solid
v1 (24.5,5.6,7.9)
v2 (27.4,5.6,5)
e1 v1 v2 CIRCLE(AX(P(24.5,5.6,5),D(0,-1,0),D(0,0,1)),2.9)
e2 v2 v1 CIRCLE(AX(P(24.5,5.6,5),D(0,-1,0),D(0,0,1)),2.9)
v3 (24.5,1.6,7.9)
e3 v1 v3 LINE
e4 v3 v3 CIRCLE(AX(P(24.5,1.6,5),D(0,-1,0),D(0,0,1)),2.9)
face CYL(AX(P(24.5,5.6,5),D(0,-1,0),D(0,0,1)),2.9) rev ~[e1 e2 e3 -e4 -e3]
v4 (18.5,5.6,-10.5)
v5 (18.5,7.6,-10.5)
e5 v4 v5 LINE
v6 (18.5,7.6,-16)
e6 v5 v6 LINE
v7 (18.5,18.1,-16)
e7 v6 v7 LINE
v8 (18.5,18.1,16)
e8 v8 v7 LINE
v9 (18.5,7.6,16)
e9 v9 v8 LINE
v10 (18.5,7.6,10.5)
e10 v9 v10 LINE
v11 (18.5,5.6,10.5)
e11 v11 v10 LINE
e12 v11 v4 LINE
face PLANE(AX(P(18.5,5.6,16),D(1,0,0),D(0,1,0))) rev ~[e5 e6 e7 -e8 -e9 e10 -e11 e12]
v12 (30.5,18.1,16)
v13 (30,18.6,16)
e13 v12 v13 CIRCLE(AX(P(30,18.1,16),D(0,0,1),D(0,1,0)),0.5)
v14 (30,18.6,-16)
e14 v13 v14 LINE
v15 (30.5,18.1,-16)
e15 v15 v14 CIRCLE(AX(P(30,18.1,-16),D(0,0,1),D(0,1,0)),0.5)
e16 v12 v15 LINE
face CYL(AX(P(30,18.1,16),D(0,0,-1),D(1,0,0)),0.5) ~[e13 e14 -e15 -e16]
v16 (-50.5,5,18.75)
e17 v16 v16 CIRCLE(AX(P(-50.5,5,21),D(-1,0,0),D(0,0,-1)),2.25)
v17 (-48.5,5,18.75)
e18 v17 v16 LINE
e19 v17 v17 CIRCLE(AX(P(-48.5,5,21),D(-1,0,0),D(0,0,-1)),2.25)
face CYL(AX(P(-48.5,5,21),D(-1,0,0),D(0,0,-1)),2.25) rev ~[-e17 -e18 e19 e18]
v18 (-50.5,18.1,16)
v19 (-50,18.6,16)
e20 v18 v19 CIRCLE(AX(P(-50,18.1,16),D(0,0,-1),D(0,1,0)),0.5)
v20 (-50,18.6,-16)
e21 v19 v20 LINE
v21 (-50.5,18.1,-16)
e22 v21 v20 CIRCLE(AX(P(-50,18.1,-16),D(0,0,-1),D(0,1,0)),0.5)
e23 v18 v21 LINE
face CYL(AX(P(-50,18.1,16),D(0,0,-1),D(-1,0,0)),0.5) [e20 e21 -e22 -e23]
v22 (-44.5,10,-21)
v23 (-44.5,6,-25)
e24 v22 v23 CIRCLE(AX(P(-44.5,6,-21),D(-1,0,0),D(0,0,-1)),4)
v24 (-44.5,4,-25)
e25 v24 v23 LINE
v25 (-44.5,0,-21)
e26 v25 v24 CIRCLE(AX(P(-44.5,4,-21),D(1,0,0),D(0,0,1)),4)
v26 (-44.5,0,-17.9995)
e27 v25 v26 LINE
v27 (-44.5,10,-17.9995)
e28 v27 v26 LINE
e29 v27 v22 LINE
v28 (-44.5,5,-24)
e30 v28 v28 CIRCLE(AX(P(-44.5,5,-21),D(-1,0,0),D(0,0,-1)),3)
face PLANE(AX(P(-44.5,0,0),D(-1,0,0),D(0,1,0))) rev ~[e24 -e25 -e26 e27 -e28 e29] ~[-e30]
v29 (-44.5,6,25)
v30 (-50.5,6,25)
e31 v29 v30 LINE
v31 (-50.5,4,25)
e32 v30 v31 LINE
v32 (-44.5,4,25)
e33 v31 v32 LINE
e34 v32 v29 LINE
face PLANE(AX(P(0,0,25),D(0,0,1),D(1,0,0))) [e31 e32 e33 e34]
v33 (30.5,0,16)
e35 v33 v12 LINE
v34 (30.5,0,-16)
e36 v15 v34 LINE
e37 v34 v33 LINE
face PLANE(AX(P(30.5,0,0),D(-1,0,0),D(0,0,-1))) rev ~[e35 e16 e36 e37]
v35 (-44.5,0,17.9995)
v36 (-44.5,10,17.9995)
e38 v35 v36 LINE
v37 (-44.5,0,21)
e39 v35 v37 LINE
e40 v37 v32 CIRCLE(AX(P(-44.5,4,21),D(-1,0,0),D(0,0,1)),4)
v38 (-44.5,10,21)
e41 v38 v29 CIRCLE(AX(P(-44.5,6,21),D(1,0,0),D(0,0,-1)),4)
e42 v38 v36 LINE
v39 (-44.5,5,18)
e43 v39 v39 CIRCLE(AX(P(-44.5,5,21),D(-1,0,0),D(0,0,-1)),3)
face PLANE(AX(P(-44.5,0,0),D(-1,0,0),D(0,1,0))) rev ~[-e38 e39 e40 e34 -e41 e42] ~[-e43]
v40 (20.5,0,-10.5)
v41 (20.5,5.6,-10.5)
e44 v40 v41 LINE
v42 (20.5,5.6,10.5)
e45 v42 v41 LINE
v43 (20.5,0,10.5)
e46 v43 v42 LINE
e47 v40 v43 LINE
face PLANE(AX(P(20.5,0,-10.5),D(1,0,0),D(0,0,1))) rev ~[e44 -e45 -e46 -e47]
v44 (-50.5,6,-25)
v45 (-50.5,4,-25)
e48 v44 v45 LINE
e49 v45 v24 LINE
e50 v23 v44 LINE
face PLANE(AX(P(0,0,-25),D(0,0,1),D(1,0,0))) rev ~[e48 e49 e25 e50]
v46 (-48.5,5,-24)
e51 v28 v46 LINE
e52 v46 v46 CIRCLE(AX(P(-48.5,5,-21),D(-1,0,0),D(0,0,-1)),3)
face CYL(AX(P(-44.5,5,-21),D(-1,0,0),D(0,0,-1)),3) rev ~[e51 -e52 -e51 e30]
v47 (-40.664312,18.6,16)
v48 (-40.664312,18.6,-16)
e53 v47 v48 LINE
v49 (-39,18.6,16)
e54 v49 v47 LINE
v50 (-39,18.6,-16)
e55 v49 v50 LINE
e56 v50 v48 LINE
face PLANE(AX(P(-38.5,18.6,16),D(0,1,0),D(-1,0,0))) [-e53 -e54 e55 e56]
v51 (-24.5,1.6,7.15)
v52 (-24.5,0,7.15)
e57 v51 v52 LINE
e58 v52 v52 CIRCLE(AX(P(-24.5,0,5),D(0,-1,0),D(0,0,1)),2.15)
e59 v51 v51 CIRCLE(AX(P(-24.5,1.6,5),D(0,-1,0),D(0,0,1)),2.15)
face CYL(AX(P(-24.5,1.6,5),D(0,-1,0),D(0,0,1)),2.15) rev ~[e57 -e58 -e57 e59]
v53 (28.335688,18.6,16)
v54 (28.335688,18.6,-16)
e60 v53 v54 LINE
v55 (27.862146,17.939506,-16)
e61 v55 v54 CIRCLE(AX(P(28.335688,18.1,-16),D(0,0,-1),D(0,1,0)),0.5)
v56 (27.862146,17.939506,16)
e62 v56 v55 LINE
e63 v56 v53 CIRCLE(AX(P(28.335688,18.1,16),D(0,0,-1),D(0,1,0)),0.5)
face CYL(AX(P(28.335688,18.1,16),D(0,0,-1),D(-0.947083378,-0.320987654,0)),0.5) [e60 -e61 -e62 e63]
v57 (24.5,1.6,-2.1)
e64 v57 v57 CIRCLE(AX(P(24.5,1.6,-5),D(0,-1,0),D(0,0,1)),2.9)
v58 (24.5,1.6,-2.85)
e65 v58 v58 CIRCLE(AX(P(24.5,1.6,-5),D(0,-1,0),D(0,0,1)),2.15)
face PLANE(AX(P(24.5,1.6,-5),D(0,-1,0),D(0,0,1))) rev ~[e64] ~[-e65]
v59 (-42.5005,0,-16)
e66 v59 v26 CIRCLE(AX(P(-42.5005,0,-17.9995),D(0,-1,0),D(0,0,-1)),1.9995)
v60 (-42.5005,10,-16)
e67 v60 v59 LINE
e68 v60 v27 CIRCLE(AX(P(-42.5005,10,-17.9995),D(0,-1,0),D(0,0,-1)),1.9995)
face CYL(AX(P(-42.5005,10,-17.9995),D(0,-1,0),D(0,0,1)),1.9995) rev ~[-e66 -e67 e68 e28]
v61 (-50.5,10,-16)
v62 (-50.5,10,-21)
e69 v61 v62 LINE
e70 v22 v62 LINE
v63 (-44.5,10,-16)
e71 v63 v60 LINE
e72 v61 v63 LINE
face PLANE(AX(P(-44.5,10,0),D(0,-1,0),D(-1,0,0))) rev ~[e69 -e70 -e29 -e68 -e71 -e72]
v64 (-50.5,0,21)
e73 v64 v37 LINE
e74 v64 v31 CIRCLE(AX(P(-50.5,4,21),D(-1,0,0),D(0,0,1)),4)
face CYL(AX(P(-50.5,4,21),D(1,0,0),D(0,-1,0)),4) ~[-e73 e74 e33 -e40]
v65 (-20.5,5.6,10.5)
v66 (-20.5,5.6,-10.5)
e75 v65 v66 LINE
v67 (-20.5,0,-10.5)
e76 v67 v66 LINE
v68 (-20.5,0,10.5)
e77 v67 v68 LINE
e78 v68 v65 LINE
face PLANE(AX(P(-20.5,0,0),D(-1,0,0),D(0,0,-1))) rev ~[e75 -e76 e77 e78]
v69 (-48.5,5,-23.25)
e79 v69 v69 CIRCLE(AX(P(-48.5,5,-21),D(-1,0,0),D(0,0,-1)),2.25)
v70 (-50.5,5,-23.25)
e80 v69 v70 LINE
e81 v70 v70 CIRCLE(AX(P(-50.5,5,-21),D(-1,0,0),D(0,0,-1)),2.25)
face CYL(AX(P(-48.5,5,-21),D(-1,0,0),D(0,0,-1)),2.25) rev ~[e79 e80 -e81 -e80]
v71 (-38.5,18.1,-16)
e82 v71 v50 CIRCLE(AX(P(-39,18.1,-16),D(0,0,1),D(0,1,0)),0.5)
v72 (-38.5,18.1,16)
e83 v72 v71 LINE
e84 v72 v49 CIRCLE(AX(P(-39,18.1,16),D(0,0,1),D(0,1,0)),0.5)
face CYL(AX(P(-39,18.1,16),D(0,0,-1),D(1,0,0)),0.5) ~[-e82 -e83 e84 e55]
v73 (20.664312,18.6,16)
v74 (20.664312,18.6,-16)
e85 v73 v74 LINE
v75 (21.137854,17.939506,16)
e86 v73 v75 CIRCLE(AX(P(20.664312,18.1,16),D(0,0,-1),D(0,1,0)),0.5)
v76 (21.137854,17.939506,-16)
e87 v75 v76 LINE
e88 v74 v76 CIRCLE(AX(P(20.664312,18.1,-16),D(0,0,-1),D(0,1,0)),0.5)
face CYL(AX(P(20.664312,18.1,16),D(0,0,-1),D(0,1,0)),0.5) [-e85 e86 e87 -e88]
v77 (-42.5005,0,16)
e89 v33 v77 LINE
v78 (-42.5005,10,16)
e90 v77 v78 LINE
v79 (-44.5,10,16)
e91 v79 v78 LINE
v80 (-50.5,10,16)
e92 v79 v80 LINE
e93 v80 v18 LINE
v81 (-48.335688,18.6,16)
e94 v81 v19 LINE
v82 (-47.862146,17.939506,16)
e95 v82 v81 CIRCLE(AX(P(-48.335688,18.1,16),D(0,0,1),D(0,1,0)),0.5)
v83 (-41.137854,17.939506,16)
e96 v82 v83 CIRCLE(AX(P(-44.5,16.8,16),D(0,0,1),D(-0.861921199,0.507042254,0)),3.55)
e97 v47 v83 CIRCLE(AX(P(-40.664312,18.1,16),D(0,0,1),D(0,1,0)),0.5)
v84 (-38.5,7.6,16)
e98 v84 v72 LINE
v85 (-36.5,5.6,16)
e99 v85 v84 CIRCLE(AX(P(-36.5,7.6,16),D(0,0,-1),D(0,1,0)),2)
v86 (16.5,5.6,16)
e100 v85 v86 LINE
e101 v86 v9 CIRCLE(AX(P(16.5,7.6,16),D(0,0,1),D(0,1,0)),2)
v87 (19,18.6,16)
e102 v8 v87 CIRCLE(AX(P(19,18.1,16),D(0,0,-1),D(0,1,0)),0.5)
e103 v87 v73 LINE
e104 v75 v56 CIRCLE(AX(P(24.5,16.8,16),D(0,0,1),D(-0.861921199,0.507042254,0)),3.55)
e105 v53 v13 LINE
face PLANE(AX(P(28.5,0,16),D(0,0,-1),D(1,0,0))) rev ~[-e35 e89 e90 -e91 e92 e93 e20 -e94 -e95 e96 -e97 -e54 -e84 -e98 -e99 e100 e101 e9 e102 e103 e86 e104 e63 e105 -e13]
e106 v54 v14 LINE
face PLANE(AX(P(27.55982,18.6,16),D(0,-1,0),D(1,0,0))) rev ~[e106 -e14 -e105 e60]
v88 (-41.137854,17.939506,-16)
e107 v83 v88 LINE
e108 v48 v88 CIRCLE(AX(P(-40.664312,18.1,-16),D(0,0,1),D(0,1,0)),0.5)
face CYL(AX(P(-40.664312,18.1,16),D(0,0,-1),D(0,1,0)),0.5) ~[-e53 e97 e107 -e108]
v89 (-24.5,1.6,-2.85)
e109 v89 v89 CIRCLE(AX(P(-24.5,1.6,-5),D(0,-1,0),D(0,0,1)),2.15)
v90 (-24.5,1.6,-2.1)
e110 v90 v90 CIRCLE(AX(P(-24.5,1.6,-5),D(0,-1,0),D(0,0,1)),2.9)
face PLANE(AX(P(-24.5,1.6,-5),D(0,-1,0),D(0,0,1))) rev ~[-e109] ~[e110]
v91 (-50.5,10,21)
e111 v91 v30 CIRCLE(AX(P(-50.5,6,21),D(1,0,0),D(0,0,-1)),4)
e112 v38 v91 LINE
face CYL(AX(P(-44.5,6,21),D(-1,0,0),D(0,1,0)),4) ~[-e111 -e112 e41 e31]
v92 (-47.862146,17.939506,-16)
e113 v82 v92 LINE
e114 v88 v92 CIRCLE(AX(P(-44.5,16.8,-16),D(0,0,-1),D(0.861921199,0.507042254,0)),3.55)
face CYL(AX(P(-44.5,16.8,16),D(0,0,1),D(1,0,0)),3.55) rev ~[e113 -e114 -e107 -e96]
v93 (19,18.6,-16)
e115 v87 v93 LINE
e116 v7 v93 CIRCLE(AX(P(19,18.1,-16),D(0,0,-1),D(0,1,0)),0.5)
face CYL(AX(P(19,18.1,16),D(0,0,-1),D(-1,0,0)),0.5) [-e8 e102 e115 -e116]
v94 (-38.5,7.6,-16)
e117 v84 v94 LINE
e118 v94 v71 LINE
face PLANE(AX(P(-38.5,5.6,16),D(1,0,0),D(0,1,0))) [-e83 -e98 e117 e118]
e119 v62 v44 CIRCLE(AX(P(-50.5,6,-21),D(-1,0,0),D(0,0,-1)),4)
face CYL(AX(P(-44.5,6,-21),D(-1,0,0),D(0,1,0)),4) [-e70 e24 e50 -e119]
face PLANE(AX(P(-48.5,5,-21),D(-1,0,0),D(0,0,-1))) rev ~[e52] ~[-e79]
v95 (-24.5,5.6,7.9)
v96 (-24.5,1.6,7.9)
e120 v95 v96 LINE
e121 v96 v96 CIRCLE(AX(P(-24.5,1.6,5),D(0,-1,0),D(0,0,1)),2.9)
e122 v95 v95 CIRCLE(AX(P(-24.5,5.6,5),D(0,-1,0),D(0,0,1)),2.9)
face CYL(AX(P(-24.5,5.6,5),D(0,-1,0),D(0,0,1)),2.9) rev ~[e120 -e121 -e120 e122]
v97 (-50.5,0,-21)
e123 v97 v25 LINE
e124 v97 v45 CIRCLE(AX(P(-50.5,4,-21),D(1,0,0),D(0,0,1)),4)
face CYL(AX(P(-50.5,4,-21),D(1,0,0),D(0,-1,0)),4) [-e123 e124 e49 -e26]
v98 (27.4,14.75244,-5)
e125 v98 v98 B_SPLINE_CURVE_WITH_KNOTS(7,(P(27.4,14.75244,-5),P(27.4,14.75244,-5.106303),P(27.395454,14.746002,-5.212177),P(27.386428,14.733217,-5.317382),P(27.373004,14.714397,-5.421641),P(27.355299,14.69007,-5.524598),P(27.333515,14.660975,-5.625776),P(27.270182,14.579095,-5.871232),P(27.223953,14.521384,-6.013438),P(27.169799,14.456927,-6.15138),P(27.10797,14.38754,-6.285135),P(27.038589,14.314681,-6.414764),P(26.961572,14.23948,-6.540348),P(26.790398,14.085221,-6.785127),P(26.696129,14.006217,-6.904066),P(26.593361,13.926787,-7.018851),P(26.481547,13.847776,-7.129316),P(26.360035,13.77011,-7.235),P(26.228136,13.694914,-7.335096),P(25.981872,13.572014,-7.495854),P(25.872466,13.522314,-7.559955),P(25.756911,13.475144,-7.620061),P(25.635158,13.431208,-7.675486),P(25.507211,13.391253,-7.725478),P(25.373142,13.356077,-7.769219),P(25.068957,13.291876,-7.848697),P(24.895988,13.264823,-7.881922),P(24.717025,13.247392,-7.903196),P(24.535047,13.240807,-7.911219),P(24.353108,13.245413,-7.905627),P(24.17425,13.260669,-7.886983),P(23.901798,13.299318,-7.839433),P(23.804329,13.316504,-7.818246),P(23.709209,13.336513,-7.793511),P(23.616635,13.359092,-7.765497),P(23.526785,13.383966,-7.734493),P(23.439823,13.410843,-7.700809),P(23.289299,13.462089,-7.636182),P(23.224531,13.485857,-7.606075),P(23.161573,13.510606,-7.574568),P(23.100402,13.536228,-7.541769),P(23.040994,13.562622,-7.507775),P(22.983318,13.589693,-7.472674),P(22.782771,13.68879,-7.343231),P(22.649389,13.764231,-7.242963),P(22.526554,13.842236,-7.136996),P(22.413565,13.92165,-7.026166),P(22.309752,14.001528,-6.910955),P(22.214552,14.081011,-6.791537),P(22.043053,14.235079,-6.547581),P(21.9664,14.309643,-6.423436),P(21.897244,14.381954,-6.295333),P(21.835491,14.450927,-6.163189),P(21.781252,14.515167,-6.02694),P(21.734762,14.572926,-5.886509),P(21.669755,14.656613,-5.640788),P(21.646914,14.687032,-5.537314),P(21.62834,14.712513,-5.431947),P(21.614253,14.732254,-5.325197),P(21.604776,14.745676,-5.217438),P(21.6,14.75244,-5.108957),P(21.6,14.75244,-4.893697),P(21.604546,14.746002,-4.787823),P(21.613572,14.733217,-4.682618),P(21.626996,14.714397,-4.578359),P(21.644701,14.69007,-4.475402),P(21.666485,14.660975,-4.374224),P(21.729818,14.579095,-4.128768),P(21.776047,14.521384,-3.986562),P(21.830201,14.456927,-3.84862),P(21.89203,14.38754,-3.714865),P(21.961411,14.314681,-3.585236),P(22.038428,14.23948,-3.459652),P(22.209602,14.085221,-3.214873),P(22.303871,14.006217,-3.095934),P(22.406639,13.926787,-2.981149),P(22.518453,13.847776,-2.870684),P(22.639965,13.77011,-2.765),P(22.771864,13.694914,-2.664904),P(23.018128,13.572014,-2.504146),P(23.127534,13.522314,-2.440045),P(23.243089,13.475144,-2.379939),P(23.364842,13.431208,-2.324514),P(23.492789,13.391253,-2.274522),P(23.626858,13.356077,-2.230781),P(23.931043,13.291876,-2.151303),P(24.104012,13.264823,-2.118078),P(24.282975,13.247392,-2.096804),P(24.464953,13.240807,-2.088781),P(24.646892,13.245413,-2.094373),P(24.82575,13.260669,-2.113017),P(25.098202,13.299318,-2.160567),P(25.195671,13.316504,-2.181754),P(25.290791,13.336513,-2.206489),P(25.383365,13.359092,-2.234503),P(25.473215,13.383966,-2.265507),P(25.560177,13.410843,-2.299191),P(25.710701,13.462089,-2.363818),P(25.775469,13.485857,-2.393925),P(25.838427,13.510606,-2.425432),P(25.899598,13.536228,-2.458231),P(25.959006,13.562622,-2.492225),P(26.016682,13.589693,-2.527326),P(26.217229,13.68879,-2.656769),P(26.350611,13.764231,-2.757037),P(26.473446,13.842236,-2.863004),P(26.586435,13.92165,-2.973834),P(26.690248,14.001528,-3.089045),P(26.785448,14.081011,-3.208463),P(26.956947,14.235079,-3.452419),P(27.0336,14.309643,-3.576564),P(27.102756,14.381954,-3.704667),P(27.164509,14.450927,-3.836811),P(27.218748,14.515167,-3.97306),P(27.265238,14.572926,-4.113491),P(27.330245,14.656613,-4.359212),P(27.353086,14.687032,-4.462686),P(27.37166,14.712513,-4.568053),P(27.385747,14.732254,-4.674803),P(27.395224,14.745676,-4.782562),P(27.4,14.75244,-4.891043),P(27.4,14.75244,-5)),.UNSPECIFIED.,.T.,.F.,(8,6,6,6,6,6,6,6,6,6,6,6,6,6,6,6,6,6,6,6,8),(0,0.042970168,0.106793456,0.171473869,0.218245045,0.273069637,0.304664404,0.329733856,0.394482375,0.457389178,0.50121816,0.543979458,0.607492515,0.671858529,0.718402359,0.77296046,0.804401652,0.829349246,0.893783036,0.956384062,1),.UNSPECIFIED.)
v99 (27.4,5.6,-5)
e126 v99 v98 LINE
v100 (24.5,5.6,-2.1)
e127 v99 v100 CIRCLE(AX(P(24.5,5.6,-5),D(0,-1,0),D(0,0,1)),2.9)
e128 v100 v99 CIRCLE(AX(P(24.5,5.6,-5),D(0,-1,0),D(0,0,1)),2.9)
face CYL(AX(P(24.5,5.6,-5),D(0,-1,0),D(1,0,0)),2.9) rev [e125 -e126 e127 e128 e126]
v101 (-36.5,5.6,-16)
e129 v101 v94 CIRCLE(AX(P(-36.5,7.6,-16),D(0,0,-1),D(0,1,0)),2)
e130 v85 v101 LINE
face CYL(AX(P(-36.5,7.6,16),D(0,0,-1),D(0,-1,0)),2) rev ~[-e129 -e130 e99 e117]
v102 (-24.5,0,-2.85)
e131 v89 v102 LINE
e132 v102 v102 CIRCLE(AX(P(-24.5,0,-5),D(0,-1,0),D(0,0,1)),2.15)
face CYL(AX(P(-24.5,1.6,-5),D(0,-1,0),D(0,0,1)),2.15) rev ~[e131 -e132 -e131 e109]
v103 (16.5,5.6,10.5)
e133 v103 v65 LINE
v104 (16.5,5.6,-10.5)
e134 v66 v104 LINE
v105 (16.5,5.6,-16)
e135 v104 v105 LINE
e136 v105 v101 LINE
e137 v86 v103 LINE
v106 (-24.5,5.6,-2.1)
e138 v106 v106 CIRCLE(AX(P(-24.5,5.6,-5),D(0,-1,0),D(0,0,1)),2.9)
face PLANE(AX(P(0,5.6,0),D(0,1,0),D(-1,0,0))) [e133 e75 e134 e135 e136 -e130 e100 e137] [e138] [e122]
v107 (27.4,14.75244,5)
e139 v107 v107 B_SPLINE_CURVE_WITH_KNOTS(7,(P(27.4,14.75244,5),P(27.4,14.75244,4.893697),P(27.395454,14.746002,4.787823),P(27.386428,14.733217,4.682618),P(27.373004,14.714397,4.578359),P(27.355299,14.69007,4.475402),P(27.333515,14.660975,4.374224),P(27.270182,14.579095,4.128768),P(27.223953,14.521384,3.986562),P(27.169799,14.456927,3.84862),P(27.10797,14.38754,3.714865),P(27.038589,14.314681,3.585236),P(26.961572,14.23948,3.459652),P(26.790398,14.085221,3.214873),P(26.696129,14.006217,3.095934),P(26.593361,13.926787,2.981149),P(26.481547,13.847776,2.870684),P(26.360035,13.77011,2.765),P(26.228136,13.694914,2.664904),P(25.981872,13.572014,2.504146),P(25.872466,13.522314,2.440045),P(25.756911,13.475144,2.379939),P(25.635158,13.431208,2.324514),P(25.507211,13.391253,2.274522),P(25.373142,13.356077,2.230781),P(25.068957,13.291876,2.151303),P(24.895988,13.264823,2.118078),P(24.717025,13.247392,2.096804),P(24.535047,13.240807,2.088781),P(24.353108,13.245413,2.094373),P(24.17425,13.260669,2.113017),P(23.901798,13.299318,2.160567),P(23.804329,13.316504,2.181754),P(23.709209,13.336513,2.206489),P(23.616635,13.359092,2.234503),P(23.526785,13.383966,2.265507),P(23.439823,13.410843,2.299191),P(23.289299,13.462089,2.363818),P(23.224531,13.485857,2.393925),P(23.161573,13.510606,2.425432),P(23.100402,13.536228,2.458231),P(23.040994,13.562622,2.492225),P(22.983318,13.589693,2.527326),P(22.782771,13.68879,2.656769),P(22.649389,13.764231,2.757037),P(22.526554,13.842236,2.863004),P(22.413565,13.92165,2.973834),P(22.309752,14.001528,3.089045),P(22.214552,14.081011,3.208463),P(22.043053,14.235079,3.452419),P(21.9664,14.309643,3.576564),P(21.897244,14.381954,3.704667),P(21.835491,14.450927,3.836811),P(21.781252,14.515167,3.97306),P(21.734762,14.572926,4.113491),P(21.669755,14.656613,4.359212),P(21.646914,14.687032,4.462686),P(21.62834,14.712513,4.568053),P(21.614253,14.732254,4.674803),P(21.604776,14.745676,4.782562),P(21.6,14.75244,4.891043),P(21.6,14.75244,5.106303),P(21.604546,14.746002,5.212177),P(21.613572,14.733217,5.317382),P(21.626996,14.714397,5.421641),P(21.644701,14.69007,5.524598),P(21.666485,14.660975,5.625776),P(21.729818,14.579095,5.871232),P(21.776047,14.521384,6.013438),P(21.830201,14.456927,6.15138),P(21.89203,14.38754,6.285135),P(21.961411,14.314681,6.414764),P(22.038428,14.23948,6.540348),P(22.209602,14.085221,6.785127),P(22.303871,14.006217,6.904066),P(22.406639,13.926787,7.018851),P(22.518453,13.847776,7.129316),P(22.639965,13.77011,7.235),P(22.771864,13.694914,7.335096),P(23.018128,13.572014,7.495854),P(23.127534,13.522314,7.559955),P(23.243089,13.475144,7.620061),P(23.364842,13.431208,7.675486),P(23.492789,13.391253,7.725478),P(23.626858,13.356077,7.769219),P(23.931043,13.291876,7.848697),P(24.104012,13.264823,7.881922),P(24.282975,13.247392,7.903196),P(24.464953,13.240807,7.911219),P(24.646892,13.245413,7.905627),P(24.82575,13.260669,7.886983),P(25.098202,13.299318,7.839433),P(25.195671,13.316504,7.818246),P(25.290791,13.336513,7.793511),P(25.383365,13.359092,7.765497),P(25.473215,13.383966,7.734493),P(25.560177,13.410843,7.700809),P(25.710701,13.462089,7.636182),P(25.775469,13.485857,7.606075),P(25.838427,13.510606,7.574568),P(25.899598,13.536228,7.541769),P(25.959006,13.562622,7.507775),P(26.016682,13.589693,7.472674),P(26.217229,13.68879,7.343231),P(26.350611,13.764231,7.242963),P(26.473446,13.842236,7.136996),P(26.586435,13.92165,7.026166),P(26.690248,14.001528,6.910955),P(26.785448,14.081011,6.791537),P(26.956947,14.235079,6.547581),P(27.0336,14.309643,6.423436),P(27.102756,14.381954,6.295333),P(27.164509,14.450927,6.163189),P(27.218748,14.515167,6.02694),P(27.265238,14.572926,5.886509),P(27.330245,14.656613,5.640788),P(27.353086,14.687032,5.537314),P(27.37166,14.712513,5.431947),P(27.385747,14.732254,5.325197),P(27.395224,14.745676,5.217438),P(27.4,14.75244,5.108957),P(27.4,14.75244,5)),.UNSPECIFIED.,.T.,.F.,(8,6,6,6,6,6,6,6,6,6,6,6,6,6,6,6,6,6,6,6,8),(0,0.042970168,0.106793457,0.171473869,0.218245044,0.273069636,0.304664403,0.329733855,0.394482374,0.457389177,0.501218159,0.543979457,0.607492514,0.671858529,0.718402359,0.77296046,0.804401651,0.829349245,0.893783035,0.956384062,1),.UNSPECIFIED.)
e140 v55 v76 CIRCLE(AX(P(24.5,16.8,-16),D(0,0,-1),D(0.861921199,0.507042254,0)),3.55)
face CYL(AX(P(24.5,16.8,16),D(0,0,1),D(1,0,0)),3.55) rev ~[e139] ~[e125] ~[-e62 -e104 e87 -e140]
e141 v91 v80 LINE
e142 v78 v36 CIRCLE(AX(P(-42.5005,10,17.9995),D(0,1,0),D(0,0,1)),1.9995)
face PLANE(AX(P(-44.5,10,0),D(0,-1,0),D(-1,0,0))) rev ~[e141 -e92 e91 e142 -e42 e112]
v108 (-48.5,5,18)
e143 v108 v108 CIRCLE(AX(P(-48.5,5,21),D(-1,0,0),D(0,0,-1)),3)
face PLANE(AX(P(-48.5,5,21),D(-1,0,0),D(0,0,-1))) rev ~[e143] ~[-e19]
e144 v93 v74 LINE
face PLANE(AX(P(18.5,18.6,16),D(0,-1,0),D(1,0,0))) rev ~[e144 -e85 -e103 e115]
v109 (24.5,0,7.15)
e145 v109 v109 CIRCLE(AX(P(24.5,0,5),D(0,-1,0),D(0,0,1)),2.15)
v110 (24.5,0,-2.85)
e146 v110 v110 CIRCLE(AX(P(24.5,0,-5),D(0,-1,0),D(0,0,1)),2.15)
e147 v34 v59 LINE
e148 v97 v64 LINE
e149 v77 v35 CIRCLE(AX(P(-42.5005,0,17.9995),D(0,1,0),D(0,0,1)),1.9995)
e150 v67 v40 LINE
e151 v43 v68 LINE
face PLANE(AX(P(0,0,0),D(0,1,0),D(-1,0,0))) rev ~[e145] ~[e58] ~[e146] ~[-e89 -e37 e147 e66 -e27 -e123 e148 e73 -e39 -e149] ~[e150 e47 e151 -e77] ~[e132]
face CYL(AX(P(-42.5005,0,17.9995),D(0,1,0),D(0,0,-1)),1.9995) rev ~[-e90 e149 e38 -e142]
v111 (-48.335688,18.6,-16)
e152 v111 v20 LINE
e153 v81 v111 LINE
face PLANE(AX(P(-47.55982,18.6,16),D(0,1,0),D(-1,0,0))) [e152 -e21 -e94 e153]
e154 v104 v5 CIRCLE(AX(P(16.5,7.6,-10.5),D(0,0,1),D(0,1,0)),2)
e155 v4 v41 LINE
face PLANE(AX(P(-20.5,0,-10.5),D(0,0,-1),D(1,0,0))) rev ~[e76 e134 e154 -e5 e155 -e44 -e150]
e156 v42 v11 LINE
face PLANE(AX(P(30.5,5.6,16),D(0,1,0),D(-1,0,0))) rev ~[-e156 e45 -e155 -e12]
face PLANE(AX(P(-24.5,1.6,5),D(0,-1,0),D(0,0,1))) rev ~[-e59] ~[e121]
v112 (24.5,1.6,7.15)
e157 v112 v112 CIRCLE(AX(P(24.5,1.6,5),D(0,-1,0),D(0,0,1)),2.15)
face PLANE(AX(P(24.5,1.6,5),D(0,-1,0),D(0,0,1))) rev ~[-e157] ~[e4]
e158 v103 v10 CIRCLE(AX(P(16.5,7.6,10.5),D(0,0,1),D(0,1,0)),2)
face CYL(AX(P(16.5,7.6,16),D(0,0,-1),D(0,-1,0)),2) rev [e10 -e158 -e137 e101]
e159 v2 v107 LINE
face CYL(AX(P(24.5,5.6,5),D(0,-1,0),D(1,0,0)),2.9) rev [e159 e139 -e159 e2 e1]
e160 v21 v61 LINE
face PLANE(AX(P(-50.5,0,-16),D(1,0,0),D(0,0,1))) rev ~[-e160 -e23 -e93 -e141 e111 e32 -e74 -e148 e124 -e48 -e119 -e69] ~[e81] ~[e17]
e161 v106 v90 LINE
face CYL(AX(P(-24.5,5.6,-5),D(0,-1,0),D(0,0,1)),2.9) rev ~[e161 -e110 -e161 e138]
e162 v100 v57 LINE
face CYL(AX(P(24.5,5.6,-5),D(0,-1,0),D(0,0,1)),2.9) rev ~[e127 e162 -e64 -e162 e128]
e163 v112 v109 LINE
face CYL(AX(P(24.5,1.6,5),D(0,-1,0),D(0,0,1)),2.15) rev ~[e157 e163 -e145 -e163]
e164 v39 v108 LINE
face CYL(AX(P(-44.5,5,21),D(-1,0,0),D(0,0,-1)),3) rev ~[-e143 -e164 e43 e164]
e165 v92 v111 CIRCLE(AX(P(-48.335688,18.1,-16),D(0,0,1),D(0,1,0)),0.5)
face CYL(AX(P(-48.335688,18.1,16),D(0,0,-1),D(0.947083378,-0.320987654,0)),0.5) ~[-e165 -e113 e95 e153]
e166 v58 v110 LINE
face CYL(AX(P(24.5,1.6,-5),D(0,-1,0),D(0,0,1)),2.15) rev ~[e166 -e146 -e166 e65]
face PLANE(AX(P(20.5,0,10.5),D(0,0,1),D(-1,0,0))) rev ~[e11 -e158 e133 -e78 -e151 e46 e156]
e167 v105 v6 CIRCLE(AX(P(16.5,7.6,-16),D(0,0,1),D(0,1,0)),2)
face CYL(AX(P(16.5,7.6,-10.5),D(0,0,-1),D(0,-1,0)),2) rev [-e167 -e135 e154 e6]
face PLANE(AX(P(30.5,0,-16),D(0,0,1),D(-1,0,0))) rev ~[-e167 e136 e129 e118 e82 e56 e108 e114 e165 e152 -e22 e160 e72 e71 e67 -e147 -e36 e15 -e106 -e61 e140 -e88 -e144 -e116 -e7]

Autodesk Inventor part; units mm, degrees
ref_plane "YZ Plane" through (0, 0, 0) normal (1, 0, 0) x (0, 1, 0)
ref_plane "XZ Plane" through (0, 0, 0) normal (0, 1, 0) x (-1, 0, 0)
ref_plane "XY Plane" through (0, 0, 0) normal (0, 0, 1) x (1, 0, 0)
sketch "Sketch1" plane through (0, 0, 0) normal (0, 1, 0) x (-1, 0, 0)
  line L0 (-20, -10) -> (20, -10)
  line L1 (20, -10) -> (20, 10)
  line L2 (20, 10) -> (-20, 10)
  line L3 (-20, 10) -> (-20, -10)
  line L4 (-20, -10) -> (20, 10) construction
  line L5 (20, -10) -> (-20, 10) construction
  circle A0 centre (10, 0) radius 2.6964
  circle A1 centre (24.5, 5) radius 2
  circle A2 centre (24.5, -5) radius 2
  line L6 (66.7, 0) -> (-46.7, 0) projected
  circle A3 centre (-24.5, 5) radius 2
  circle A4 centre (-24.5, -5) radius 2
  line L7 (50.5, 16) -> (-30.5, 16)
  line L8 (-30.5, 16) -> (-30.5, -16)
  line L9 (-30.5, -16) -> (50.5, -16)
  line L10 (50.5, -16) -> (50.5, 16)
  line L11 (10, 6.1182) -> (10, -6.1182) construction
  line L12 (-28.5, 14.25) -> (-28.5, 16)
  line L13 (20.5, 10.5) -> (20.5, -10.5)
  line L14 (20.5, -10.5) -> (-20.5, -10.5)
  line L15 (-20.5, -10.5) -> (-20.5, 10.5)
  line L16 (-20.5, 10.5) -> (20.5, 10.5)
  point P0 (0, 0)
  point P1 (-20.5, 0)
  point P2 (20.5, 0)
  point P3 (20, 0)
  point P4 (-20, 0)
  dimension "d0" = 40
  dimension "d1" = 20
  dimension "d2" = 30
  dimension "d3" = 10
  dimension "d4" = 4.5
  dimension "d5" = 10
  dimension "d6" = 4.5
  dimension "d7" = 4
  dimension "d8" = 6
  dimension "d9" = 6
  dimension "d31" = 0.5
extrude "Base" add sketch "Sketch1" along normal blind 5.6 contours L15 L14 L13 L6 L10 L9 L8 | L6 L8 L7 L10 L13 L16 L15 | A1 | A2 | A3 | A4
sketch "Sketch3" plane through (0, 5.6, 0) normal (0, 1, 0) x (1, 0, 0)
  line L0 (-66.7, 0) -> (46.7, 0) projected
  line L1 (0, -6.8326) -> (0, 7.3627) construction
  circle A0 centre (24.5, -5) radius 2.9
  circle A1 centre (24.5, 5) radius 2.9
  circle A2 centre (-24.5, -5) radius 2.9
  circle A3 centre (-24.5, 5) radius 2.9
  line L2 (20, -10) -> (20, 10) projected
  point P0 (0, 0)
  dimension "d19" = 10
  dimension "d28" = 5.8
  dimension "d32" = 4.5
hole "Servo mount holes" at (24.5, 5.6, 5) at (24.5, 5.6, -5) at (-24.5, 5.6, 5) at (-24.5, 5.6, -5) direction (0, -1, 0) diameter 4.3 end through all counterbore diameter 5.8 counterbore depth 4
sketch "Sketch2" plane through (-50.5, 0, 16) normal (0, 0, 1) x (1, 0, 0)
  line L0 (81, 5.6) -> (0, 5.6) projected
  line L1 (0, 5.6) -> (12, 5.6)
  line L2 (12, 5.6) -> (12, 18.6)
  line L3 (12, 18.6) -> (0, 18.6)
  line L4 (0, 18.6) -> (0, 5.6)
  circle A0 centre (6, 16.8) radius 3.55
  circle A1 centre (6, 16.8) radius 3.05
  line L5 (40.5, 13.1003) -> (40.5, -16.3877) construction
  line L6 (81, 5.6) -> (69, 5.6)
  line L7 (69, 5.6) -> (69, 18.6)
  line L8 (69, 18.6) -> (81, 18.6)
  line L9 (81, 18.6) -> (81, 5.6)
  circle A2 centre (75, 16.8) radius 3.55
  circle A3 centre (75, 16.8) radius 3.05
  line L10 (2.45, 16.8) -> (9.55, 16.8)
  line L11 (78.55, 16.8) -> (71.45, 16.8)
  point P0 (50.5, 0)
  point P1 (9.0598, 18.6)
  point P2 (2.9402, 18.6)
  point P3 (8.4622, 18.6)
  point P4 (3.5378, 18.6)
  point P5 (6, 18.6)
  point P6 (40.5, 5.6)
  point P7 (75, 18.6)
  point P8 (78.0598, 18.6)
  point P9 (71.9402, 18.6)
  point P10 (72.5378, 18.6)
  point P11 (77.4622, 18.6)
  point P12 (71.95, 16.8)
  point P13 (78.05, 16.8)
  point P14 (9.05, 16.8)
  point P15 (2.95, 16.8)
  dimension "d12" = 12
  dimension "d13" = 13
  dimension "d14" = 7.1
  dimension "d33" = 0.5
  dimension "d38" = 1.8
extrude "Linear rod mount" add sketch "Sketch2" against normal up to surface (32 mm away) contours L0 L4 L3 A0 L2 | L0 L7 L8 A2 L9
extrude "Servo mount hole extended" cut sketch "Sketch3" along normal blind 10 contours A0 | A1
fillet "Fillet1" radius 2 3 edges at (-38.5, 5.6, 0) (18.5, 5.6, 13.25) (18.5, 5.6, -13.25)
fillet "Fillet2" radius 0.5 8 edges at (-50.5, 18.6, 0) (-38.5, 18.6, 0) (18.5, 18.6, 0) (30.5, 18.6, 0) (-47.5598, 18.6, 0) (-41.4402, 18.6, 0) (21.4402, 18.6, 0) (27.5598, 18.6, 0)
sketch "Sketch4" plane through (0, 0, 0) normal (0, 0, 1) x (1, 0, 0)
  line L0 (-50.5, 0) -> (-44.5, 0)
  line L1 (-44.5, 0) -> (-44.5, 10)
  line L2 (-44.5, 10) -> (-50.5, 10)
  line L3 (-50.5, 10) -> (-50.5, 0)
  point P0 (0, 0)
  dimension "d39" = 10
  dimension "d40" = 6
extrude "Extrusion5" add sketch "Sketch4" along normal mid plane 50
fillet "Fillet3" radius 4 4 edges at (-47.5, 10, 25) (-47.5, 0, 25) (-47.5, 10, -25) (-47.5, 0, -25)
sketch "Sketch5" plane through (-44.5, 0, 16) normal (1, 0, 0) x (0, 0, -1)
  arc A0 (-5, 10) -> (-9, 6) centre (-5, 6) ccw projected
  arc A1 (41, 6) -> (37, 10) centre (37, 6) ccw projected
  line L0 (-9, 4) -> (-9, 6) projected
  line L1 (41, 6) -> (41, 4) projected
  point P0 (16, 0)
  point P1 (-5, 5)
  point P2 (37, 5)
  point P3 (-5, 0)
  point P4 (-9, 5)
  point P5 (41, 5)
hole "Hole2" at (-44.5, 5, 21) at (-44.5, 5, -21) direction (-1, 0, 0) diameter 4.5 end through all counterbore diameter 6 counterbore depth 4
fillet "Fillet4" radius 2 2 edges at (-44.5, 5, 16) (-44.5, 5, -16)
equation "\"d9\" = d8"
properties part number "Servo mount - fron"
